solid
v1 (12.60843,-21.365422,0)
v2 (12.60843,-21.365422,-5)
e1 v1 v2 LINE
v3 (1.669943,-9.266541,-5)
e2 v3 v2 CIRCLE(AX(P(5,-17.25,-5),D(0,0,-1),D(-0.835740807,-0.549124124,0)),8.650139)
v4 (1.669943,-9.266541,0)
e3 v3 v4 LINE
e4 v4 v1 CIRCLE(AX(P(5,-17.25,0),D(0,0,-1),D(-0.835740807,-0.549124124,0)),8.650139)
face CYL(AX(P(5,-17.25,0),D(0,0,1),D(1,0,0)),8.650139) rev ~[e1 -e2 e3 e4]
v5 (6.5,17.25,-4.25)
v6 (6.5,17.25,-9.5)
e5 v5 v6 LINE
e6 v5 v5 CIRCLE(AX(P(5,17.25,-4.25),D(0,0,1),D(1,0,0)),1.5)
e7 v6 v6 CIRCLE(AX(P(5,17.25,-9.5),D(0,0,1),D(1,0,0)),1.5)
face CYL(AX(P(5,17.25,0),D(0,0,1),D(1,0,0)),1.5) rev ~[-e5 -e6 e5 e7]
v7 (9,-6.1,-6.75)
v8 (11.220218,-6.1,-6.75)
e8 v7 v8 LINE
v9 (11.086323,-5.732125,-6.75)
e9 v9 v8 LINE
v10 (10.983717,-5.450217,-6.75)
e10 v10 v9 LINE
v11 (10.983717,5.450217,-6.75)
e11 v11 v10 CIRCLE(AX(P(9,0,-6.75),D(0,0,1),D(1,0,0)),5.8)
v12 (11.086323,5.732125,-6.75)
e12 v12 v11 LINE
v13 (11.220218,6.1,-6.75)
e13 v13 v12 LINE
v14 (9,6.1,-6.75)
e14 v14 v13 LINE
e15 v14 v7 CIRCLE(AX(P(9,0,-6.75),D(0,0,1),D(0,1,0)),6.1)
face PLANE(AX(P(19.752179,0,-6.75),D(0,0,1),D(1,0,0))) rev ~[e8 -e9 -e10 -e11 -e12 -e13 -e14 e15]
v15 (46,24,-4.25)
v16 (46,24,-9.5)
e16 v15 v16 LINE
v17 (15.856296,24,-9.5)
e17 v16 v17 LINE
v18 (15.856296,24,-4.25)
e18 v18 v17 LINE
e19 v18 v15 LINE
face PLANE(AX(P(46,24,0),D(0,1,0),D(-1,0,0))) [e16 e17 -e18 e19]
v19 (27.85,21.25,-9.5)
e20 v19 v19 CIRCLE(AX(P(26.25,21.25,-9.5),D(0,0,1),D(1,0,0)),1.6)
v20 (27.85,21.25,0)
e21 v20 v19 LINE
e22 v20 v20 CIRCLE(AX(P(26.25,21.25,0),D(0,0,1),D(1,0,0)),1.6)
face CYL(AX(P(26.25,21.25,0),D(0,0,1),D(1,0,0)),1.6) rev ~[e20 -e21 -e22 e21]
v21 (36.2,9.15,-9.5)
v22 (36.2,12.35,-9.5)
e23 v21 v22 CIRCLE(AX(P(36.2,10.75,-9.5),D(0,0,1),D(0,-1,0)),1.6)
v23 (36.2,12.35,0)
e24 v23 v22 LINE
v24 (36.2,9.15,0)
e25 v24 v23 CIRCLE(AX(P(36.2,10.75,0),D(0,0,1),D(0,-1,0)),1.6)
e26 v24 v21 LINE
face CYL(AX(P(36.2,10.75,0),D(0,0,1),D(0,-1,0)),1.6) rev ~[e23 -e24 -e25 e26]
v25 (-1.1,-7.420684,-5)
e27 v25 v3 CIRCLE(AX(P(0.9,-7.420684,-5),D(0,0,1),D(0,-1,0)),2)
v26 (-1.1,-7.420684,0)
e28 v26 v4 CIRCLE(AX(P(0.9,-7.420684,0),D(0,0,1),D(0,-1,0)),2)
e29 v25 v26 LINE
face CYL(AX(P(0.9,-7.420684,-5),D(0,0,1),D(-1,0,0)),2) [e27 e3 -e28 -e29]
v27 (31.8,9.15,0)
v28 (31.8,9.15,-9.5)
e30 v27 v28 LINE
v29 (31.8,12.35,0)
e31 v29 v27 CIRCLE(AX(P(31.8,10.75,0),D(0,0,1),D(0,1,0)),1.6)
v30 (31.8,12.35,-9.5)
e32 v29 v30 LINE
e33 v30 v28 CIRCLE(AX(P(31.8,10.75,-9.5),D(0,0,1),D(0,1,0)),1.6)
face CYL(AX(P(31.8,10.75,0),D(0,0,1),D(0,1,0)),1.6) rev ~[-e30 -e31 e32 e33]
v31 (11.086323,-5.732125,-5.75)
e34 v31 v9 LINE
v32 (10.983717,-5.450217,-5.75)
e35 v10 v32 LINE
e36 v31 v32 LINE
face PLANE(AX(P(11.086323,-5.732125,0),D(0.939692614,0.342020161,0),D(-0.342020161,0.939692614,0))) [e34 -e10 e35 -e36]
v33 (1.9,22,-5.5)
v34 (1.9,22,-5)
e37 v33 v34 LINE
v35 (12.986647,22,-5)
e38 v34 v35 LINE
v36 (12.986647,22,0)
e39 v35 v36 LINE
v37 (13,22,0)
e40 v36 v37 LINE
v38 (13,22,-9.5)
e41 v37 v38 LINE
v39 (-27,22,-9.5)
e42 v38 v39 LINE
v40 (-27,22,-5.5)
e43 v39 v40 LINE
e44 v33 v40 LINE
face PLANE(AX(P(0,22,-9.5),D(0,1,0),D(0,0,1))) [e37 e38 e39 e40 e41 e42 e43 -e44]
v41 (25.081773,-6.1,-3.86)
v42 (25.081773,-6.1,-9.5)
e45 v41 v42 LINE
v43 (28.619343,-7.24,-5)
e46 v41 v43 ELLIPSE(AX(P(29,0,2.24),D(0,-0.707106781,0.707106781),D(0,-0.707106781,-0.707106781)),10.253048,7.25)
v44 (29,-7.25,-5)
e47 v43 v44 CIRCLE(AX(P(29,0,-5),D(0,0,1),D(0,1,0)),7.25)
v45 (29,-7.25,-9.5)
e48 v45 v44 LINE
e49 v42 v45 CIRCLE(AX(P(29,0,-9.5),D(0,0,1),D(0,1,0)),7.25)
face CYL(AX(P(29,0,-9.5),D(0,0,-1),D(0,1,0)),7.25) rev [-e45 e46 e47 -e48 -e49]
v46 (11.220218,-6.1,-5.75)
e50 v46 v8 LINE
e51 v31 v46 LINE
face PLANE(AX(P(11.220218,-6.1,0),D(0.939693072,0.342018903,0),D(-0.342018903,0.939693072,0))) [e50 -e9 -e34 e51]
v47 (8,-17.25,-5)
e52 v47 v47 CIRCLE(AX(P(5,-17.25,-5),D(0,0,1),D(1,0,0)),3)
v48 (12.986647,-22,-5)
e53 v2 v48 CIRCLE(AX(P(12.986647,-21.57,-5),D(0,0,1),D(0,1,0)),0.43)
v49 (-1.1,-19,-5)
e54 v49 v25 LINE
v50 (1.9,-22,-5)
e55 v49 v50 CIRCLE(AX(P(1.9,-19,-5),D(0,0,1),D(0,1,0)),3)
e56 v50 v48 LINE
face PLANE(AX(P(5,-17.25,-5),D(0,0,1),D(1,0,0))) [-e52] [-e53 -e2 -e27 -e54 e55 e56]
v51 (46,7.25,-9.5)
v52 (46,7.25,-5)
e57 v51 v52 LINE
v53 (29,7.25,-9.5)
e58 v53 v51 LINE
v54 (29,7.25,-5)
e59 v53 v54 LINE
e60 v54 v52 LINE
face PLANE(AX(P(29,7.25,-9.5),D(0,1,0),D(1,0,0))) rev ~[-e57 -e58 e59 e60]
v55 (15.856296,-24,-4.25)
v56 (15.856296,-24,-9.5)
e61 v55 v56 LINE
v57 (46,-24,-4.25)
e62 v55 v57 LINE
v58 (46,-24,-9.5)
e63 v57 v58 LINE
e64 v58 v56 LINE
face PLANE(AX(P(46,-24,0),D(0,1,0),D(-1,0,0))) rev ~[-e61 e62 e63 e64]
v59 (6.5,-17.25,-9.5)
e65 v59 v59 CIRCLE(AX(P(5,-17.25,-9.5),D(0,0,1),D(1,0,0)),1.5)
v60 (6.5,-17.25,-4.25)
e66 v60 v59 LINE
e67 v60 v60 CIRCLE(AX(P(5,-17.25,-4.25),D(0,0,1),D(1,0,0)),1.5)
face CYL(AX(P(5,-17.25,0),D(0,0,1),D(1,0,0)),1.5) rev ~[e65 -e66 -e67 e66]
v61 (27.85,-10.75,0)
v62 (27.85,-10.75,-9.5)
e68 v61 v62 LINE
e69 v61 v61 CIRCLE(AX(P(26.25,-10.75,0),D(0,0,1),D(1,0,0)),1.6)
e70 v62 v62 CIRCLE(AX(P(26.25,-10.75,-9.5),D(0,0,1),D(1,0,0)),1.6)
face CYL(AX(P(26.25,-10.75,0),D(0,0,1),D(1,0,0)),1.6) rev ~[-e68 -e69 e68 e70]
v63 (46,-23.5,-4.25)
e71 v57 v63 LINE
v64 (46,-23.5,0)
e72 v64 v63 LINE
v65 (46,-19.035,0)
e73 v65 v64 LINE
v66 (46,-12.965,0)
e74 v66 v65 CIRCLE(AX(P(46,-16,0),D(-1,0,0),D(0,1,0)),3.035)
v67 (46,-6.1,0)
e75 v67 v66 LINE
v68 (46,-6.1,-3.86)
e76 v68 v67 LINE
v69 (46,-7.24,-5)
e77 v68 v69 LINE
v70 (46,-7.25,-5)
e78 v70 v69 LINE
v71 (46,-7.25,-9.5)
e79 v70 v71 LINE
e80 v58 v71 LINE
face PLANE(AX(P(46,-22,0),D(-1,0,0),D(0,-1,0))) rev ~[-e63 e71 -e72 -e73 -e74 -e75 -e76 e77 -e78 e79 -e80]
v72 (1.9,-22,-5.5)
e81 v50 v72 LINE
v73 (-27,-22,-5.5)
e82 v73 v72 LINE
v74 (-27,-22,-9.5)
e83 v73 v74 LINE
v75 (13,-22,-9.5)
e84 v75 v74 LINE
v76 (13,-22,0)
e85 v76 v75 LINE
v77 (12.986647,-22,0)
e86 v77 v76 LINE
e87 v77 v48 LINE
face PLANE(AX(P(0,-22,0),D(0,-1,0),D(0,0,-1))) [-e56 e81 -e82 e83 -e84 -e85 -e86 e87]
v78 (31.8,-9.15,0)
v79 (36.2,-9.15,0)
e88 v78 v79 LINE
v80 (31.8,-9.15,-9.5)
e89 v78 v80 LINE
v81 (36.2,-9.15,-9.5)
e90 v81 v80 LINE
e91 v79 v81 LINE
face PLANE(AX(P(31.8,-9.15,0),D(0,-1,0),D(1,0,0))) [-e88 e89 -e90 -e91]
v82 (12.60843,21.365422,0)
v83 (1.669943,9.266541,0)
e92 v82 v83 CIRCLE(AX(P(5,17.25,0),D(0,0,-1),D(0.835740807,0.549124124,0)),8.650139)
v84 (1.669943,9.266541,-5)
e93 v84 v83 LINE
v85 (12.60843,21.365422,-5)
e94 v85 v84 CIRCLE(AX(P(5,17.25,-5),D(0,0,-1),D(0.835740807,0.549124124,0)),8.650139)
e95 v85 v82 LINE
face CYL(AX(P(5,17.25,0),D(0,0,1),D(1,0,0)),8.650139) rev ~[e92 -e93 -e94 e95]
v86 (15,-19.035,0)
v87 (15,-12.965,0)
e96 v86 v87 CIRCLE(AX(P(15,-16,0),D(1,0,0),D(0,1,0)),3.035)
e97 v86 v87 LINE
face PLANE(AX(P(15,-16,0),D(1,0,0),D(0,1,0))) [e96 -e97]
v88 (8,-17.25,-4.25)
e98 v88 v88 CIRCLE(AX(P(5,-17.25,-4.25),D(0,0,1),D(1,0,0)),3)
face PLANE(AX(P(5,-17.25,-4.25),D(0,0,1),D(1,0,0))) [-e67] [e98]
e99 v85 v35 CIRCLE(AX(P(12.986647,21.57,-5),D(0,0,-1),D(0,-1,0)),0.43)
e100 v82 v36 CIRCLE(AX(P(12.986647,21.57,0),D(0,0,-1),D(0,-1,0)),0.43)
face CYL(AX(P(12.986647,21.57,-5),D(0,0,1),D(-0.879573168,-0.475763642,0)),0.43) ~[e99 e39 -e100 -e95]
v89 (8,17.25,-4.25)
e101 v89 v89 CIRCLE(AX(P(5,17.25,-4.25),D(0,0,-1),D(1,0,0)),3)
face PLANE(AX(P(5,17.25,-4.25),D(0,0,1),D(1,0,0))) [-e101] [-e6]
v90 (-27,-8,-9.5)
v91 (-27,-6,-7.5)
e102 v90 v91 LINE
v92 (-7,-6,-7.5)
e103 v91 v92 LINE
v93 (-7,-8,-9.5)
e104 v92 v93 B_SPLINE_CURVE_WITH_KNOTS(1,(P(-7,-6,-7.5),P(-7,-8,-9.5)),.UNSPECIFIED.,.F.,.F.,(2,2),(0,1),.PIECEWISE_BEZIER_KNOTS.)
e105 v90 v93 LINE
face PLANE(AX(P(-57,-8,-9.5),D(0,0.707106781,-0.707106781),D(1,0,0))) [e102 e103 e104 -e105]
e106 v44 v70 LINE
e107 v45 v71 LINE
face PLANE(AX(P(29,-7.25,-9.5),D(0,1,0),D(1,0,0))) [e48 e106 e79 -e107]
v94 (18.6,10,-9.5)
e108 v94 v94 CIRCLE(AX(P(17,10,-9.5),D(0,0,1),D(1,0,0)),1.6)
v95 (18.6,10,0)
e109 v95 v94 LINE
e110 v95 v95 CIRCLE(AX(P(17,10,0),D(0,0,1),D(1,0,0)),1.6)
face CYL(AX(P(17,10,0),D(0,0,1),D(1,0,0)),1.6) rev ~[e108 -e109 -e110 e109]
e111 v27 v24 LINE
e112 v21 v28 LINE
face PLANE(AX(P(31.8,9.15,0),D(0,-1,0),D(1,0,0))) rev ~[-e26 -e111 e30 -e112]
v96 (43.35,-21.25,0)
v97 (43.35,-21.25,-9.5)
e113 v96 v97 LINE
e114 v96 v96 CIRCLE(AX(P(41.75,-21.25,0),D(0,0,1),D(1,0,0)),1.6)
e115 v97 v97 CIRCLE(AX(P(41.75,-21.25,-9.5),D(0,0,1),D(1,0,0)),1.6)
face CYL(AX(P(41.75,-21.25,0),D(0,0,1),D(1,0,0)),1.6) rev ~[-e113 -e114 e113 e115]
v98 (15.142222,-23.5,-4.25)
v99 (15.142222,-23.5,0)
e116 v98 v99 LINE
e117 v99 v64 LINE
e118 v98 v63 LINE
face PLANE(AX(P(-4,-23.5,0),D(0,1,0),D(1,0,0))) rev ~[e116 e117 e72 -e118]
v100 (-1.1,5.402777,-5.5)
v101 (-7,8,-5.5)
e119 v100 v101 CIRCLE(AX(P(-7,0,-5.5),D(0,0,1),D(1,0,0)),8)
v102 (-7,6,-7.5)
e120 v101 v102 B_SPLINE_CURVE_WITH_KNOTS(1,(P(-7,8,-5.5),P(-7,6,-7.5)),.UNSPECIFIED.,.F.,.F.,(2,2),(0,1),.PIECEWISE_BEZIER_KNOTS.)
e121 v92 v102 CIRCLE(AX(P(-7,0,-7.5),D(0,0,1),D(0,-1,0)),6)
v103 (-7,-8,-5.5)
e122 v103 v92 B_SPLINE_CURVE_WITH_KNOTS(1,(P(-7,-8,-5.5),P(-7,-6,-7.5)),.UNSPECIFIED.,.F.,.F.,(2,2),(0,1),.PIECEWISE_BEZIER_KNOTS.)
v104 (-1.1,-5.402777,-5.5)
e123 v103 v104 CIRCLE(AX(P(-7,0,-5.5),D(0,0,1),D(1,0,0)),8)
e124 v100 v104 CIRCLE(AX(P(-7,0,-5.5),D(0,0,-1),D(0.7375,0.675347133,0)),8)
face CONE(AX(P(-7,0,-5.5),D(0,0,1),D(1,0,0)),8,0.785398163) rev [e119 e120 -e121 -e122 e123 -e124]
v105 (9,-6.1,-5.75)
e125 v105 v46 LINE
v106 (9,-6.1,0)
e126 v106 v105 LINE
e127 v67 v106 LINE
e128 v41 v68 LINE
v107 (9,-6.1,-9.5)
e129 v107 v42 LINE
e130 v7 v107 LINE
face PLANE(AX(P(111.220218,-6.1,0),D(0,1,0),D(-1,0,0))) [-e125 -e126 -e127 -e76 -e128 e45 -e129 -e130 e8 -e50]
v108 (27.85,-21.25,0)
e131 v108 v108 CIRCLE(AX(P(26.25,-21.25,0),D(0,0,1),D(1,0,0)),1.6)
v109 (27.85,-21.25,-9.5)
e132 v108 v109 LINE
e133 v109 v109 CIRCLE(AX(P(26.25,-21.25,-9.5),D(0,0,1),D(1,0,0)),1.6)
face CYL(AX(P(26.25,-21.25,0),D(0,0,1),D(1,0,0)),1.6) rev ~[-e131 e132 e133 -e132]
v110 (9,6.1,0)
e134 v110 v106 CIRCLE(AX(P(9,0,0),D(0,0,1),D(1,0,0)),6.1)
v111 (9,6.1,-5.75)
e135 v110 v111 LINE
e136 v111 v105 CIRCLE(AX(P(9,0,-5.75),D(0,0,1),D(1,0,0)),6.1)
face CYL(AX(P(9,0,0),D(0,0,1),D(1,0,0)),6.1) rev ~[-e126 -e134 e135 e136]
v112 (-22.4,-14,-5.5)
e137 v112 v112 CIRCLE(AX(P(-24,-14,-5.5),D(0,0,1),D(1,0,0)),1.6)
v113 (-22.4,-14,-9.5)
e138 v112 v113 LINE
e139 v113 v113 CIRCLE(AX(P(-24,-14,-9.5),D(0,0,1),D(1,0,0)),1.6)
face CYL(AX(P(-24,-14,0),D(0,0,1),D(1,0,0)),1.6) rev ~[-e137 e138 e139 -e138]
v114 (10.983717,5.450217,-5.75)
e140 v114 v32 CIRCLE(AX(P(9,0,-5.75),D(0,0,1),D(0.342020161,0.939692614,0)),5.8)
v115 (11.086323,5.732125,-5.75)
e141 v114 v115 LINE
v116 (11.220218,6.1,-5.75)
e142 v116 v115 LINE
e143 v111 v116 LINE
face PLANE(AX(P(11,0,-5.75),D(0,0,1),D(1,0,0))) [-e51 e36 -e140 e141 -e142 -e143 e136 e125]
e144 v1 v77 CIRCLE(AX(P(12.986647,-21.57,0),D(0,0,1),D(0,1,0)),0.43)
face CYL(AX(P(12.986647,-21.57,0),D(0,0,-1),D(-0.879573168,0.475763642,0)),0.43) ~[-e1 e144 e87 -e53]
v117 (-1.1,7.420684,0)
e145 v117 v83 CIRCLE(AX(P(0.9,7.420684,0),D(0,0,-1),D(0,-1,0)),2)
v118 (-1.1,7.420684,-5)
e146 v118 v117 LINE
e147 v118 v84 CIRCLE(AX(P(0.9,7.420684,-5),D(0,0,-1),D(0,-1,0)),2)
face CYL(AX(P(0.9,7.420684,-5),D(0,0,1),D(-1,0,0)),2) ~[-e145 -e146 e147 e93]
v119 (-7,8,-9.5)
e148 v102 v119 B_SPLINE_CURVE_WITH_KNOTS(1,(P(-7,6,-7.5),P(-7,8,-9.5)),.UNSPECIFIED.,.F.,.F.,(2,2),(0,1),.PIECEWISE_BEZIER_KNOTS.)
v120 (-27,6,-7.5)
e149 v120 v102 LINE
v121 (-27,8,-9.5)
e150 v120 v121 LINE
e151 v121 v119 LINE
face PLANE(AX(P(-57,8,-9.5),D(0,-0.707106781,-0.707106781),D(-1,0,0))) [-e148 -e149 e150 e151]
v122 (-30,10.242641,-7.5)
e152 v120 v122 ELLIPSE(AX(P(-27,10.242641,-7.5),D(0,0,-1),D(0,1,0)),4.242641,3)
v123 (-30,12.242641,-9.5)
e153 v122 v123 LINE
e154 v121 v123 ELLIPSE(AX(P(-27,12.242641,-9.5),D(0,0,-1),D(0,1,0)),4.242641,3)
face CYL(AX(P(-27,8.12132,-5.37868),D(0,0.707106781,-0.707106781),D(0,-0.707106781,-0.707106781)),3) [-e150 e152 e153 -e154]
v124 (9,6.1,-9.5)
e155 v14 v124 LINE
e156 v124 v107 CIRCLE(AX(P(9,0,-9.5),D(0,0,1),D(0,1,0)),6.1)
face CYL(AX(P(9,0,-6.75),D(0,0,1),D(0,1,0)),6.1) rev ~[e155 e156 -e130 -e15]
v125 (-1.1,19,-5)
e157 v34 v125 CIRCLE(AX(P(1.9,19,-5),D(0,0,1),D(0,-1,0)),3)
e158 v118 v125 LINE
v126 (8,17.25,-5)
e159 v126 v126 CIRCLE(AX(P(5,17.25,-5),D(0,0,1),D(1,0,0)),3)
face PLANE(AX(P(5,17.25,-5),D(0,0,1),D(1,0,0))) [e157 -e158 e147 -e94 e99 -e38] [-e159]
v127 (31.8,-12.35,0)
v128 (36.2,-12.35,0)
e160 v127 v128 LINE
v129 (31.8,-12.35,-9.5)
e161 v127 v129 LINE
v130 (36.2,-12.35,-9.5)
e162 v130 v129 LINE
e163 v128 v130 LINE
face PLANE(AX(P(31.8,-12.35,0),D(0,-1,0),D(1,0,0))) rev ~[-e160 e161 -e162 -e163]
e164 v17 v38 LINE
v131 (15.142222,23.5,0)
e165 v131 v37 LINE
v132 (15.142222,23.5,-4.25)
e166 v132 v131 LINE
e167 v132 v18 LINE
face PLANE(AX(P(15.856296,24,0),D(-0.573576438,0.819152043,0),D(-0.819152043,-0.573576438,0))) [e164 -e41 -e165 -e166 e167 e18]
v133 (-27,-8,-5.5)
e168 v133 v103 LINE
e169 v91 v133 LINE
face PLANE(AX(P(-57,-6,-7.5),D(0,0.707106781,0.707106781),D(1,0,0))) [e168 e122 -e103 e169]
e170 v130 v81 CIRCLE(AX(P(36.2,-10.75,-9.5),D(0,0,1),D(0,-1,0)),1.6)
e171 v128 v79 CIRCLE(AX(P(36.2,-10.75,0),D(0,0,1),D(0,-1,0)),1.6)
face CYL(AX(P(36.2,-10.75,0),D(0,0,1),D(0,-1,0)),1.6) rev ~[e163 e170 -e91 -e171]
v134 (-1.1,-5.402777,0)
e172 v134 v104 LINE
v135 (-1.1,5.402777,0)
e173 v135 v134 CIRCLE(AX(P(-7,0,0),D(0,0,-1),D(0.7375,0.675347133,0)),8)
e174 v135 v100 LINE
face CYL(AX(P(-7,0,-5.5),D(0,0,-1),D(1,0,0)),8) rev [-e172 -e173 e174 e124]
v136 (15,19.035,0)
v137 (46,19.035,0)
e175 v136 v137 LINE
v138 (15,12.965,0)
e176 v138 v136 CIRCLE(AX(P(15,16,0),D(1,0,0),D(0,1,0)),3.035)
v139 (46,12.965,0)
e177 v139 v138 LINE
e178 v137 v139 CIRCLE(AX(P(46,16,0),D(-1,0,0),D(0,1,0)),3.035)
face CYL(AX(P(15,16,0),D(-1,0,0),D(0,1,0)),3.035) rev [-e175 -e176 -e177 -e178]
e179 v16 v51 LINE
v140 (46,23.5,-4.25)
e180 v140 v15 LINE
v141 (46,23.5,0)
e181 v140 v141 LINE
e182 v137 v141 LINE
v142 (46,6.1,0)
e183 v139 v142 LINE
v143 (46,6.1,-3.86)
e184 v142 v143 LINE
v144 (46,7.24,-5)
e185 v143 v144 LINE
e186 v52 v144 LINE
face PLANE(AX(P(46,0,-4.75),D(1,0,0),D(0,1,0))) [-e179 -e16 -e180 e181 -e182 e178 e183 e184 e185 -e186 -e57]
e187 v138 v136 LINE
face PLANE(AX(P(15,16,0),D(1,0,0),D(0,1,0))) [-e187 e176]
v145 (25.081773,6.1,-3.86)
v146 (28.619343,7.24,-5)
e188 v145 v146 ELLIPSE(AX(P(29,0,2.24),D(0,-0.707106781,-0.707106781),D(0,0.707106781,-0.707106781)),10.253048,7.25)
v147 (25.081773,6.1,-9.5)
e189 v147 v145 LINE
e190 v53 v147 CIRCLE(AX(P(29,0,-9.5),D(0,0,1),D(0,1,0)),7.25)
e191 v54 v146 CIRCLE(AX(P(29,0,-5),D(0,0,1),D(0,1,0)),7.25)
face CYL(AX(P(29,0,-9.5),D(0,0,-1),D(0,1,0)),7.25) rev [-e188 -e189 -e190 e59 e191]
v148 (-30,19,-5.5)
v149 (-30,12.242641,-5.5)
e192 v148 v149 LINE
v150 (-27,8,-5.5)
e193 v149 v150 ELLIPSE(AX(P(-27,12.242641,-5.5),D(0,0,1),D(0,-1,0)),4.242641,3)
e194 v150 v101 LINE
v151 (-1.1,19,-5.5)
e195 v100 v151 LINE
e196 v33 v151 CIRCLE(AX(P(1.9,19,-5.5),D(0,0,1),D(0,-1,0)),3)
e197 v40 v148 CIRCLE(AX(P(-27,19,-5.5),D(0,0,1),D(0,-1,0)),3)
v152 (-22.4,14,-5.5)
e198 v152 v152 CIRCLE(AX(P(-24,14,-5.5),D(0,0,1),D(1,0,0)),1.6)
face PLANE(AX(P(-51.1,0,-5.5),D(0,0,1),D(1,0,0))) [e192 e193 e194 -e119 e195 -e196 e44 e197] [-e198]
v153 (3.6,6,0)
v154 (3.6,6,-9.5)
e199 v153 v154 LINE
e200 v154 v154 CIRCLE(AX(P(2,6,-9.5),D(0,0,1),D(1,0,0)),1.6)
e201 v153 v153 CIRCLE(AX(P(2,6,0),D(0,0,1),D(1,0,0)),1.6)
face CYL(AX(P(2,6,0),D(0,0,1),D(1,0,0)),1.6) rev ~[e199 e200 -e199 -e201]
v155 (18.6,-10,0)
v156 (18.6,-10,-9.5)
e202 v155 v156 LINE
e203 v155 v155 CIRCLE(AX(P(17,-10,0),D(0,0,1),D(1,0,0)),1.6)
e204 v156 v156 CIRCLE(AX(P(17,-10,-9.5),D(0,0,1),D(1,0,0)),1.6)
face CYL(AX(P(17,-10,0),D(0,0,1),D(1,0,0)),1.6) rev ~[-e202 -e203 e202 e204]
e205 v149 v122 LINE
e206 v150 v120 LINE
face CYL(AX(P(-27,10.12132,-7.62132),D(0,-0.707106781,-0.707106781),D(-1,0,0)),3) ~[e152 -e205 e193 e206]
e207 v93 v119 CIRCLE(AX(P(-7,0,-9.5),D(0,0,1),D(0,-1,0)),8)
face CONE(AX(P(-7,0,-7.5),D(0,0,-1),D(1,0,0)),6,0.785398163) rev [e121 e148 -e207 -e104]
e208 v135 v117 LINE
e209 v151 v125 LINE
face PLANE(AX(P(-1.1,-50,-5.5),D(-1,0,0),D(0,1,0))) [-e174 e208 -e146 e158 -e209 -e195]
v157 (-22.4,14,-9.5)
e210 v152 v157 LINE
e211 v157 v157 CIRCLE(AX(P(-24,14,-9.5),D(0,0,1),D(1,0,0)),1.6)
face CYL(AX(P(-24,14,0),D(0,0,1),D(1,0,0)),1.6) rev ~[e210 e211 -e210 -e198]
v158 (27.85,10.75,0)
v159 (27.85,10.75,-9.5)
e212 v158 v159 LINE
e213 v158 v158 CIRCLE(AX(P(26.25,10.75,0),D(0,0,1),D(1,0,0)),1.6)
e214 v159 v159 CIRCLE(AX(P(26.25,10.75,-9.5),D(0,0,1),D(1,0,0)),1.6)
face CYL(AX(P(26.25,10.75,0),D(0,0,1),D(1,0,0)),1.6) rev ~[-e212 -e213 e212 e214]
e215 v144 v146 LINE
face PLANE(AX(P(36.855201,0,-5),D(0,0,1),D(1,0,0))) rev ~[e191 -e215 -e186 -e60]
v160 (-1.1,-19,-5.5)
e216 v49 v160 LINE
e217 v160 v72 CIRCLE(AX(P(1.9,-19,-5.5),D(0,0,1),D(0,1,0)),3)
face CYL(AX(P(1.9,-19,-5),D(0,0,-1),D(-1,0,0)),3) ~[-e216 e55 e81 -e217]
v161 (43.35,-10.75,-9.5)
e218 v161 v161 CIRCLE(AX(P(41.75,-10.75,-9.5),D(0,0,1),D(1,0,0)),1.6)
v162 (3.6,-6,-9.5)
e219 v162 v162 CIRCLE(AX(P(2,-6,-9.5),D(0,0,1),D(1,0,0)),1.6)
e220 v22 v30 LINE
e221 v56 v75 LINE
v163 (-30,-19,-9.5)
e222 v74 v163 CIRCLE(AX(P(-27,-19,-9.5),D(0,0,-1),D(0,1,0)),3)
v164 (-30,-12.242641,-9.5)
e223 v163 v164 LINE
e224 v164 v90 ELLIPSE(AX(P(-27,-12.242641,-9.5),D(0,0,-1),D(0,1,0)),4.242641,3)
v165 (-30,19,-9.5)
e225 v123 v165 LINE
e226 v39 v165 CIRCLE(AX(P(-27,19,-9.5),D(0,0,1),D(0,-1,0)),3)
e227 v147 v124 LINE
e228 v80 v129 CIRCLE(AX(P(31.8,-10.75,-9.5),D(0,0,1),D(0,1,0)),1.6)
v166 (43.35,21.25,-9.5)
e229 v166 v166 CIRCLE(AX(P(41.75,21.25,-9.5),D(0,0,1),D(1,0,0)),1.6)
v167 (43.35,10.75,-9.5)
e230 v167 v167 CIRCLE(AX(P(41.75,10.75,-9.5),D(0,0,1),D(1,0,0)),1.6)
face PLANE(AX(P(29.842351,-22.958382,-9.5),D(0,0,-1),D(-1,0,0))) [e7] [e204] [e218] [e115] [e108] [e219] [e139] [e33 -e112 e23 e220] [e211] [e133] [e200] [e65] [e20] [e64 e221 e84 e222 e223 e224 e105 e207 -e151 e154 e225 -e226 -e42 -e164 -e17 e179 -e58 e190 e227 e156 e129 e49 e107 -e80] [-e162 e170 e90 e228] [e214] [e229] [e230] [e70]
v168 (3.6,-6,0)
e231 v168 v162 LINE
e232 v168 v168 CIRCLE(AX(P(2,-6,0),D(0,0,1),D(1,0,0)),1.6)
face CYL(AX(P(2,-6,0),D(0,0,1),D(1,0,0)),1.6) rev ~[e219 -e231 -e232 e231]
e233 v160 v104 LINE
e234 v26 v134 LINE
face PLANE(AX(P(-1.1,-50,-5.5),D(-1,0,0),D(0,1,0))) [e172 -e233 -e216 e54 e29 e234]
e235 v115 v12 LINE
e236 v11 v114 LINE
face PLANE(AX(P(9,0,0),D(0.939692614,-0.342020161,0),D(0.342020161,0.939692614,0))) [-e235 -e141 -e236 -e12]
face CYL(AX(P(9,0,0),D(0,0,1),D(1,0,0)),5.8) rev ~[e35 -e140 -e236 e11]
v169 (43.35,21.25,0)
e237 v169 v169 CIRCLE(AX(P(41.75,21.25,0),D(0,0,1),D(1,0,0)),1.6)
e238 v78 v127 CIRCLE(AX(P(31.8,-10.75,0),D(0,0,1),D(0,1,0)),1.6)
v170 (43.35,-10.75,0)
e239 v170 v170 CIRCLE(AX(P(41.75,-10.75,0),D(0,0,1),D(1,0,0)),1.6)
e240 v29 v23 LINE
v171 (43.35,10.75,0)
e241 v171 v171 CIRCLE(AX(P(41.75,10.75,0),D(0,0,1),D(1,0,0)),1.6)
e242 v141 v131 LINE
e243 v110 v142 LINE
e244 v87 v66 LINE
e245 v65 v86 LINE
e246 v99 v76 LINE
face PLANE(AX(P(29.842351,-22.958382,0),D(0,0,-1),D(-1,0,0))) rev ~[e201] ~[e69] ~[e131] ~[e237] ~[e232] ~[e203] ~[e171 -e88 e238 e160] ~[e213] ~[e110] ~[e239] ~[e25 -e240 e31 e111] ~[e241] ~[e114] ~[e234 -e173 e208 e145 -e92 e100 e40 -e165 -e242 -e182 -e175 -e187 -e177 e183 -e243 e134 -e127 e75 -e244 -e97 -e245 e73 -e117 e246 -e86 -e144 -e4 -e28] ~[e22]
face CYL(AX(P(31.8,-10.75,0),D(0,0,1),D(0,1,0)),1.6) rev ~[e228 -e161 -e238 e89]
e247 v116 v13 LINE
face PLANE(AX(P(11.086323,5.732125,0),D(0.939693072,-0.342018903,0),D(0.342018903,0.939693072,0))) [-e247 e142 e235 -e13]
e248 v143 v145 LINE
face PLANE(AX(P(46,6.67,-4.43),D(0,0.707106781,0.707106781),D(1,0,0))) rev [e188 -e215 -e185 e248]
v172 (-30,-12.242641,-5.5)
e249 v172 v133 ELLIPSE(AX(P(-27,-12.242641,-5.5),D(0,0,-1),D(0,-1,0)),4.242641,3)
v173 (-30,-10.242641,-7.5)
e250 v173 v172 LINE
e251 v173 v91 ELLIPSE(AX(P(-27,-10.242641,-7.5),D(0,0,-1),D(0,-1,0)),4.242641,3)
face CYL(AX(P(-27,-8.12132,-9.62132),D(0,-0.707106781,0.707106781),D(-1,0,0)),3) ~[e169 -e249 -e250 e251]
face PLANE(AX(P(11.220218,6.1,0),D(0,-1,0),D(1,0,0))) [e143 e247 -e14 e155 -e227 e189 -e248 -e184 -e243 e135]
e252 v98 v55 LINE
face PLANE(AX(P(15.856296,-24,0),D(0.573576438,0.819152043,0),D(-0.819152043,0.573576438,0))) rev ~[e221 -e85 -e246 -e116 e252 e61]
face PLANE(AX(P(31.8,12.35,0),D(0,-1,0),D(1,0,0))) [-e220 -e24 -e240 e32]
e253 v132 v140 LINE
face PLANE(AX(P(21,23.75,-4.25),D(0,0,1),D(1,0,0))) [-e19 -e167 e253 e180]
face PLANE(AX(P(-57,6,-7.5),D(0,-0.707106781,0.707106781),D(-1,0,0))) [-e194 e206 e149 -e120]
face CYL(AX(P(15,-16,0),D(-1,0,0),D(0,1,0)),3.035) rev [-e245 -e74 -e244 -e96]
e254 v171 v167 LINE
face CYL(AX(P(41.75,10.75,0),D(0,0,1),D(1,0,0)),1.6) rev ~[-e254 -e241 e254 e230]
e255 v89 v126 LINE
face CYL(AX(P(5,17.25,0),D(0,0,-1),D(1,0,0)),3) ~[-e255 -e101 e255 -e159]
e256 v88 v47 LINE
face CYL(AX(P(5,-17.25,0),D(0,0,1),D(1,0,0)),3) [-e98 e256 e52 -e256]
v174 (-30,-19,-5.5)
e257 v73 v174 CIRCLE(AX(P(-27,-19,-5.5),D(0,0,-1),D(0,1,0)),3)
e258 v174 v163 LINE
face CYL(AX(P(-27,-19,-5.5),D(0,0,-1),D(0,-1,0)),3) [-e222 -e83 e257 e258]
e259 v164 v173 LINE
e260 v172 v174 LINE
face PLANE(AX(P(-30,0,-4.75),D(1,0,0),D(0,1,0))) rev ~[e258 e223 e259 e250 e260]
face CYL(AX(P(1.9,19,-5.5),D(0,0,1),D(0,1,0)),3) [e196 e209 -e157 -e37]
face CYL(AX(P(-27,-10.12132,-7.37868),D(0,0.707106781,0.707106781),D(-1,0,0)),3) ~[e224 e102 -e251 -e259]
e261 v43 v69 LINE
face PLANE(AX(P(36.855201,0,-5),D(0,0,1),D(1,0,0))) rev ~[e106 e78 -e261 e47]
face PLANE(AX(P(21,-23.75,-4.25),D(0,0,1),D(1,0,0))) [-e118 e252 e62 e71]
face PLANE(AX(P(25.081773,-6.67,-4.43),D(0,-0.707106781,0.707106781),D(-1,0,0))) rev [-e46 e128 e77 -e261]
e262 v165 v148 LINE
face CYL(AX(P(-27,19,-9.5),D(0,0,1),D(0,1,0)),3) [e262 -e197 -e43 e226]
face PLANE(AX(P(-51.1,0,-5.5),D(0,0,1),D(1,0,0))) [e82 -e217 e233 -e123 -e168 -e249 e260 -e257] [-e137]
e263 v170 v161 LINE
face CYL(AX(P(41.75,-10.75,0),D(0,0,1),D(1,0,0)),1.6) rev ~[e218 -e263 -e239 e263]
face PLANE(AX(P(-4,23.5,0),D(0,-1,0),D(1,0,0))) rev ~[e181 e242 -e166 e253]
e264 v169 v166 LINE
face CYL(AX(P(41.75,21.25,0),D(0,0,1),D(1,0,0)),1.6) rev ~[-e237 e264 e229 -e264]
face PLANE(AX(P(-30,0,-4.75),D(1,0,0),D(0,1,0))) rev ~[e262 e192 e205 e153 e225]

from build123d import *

# Parameters (mm, degrees)
PAD_DEPTH            = 46
PAD_DEPTH_BACK       = 30
SKETCH009_R          = 8.650139
POCKET006_DEPTH      = 4.25
SKETCH011_R          = 1.5
POCKET008_DEPTH      = 9.501
POCKET008_DEPTH_BACK = 0.001
SKETCH010_R          = 8.650139
SKETCH010_R_2        = 3
POCKET007_DEPTH      = 5
SKETCH005_R          = 5.8
POCKET002_DEPTH      = 9.501
POCKET002_DEPTH_BACK = 0.001
SKETCH006_R          = 6.1
POCKET003_DEPTH      = 5.75
POCKET004_DEPTH      = 9.501
POCKET004_DEPTH_BACK = 0.001
SKETCH008_W          = 4
SKETCH008_H          = 12.2
POCKET005_DEPTH      = 5.75
POCKET009_DEPTH      = 9.501
POCKET009_DEPTH_BACK = 0.001
POCKET_DEPTH         = 2.751
SKETCH014_R          = 3.035
POCKET010_DEPTH      = 31.001
PAD001_DEPTH         = 9.5
SKETCH017_R          = 1.6
POCKET011_DEPTH      = 9.501
SKETCH018_W          = 100
SKETCH018_H          = 100
POCKET012_DEPTH      = 5.501
SKETCH020_R          = 8
SKETCH019_R          = 6
SKETCH021_R          = 8
POCKET013_DEPTH      = 5.501
SKETCH023_W          = 100
SKETCH023_H          = 16
SKETCH022_W          = 100
SKETCH022_H          = 12
SKETCH024_W          = 100
SKETCH024_H          = 16
SKETCH025_R          = 1.6
POCKET014_DEPTH      = 9.501
FILLET_R             = 3
FILLET001_R          = 2
FILLET002_R          = 0.43
FILLET003_R          = 3
POCKET015_DEPTH      = 4.5
CHAMFER_SIZE         = 1.14
SKETCH027_W          = 50
SKETCH027_H          = 0.5
POCKET016_DEPTH      = 4.25


with BuildPart() as part:
    # Sketch → Pad (new body, two sides)
    with BuildSketch(Plane.YZ) as pad_sk:
        Polygon((0, -9.5), (22, -9.5), (22, 0), (-22, 0), (-22, -9.5), align=None)
    extrude(amount=PAD_DEPTH)
    extrude(pad_sk.sketch, amount=-PAD_DEPTH_BACK)

    # Sketch009 → Pocket006 (cut, symmetric)
    with BuildSketch(Plane.XY):
        with Locations((5, -17.25)):
            Circle(SKETCH009_R)
        with Locations((5, 17.25)):
            Circle(SKETCH009_R)
    extrude(amount=POCKET006_DEPTH, both=True, mode=Mode.SUBTRACT)

    # Sketch011 → Pocket008 (cut, two sides)
    with BuildSketch(Plane.XY) as pocket008_sk:
        with Locations((5, 17.25)):
            Circle(SKETCH011_R)
        with Locations((5, -17.25)):
            Circle(SKETCH011_R)
    extrude(amount=-POCKET008_DEPTH, mode=Mode.SUBTRACT)
    extrude(pocket008_sk.sketch, amount=POCKET008_DEPTH_BACK, mode=Mode.SUBTRACT)

    # Sketch010 → Pocket007 (cut, symmetric)
    with BuildSketch(Plane.XY):
        with Locations((5, -17.25)):
            Circle(SKETCH010_R)
        with Locations((5, -17.25)):
            Circle(SKETCH010_R_2, mode=Mode.SUBTRACT)
        with Locations((5, 17.25)):
            Circle(SKETCH010_R)
        with Locations((5, 17.25)):
            Circle(SKETCH010_R_2, mode=Mode.SUBTRACT)
    extrude(amount=POCKET007_DEPTH, both=True, mode=Mode.SUBTRACT)

    # Sketch005 → Pocket002 (cut, two sides)
    with BuildSketch(Plane.XY) as pocket002_sk:
        with Locations((9, 0)):
            Circle(SKETCH005_R)
    extrude(amount=-POCKET002_DEPTH, mode=Mode.SUBTRACT)
    extrude(pocket002_sk.sketch, amount=POCKET002_DEPTH_BACK, mode=Mode.SUBTRACT)

    # Sketch006 → Pocket003 (cut)
    with BuildSketch(Plane.XY):
        with Locations((9, 0)):
            Circle(SKETCH006_R)
    extrude(amount=-POCKET003_DEPTH, mode=Mode.SUBTRACT)

    # Sketch007 → Pocket004 (cut, two sides)
    with BuildSketch(Plane.XY) as pocket004_sk:
        Polygon((9, 0), (11.086323, 5.732125), (11.220218, 6.1), (111.220218, 6.1), (111.220218, -6.1), (11.220218, -6.1), (11.086323, -5.732125), align=None)
    extrude(amount=-POCKET004_DEPTH, mode=Mode.SUBTRACT)
    extrude(pocket004_sk.sketch, amount=POCKET004_DEPTH_BACK, mode=Mode.SUBTRACT)

    # Sketch008 → Pocket005 (cut)
    with BuildSketch(Plane.XY):
        with Locations((11, 0)):
            Rectangle(SKETCH008_W, SKETCH008_H)
    extrude(amount=-POCKET005_DEPTH, mode=Mode.SUBTRACT)

    # Sketch012 → Pocket009 (cut, two sides)
    with BuildSketch(Plane.XY) as pocket009_sk:
        with BuildLine():
            ThreePointArc((31.8, 12.35), (30.2, 10.75), (31.8, 9.15))
            Line((31.8, 9.15), (36.2, 9.15))
            ThreePointArc((36.2, 9.15), (37.8, 10.75), (36.2, 12.35))
            Line((31.8, 12.35), (36.2, 12.35))
        make_face()
        with BuildLine():
            ThreePointArc((31.8, -9.15), (30.2, -10.75), (31.8, -12.35))
            Line((31.8, -12.35), (36.2, -12.35))
            ThreePointArc((36.2, -12.35), (37.8, -10.75), (36.2, -9.15))
            Line((31.8, -9.15), (36.2, -9.15))
        make_face()
    extrude(amount=-POCKET009_DEPTH, mode=Mode.SUBTRACT)
    extrude(pocket009_sk.sketch, amount=POCKET009_DEPTH_BACK, mode=Mode.SUBTRACT)

    # Sketch013 (on DatumPlane) → Pocket (cut, through all)
    with BuildSketch(Plane.XY.offset(-6.75)):
        with BuildLine():
            ThreePointArc((9, 6.1), (2.9, 0), (9, -6.1))
            Line((9, -6.1), (34, -6.1))
            Line((34, 6.1), (34, -6.1))
            Line((9, 6.1), (34, 6.1))
        make_face()
    extrude(amount=-POCKET_DEPTH, mode=Mode.SUBTRACT)

    # Sketch014 (on DatumPlane) → Pocket010 (cut, through all)
    with BuildSketch(Plane.YZ.offset(15)):
        with Locations((-16, 0)):
            Circle(SKETCH014_R)
        with Locations((16, 0)):
            Circle(SKETCH014_R)
    extrude(amount=POCKET010_DEPTH, mode=Mode.SUBTRACT)

    # Sketch016 → Pad001 (join)
    with BuildSketch(Plane.XY):
        Polygon((13, -22), (46, -22), (46, -24), (15.856296, -24), align=None)
        Polygon((13, 22), (46, 22), (46, 24), (15.856296, 24), align=None)
    extrude(amount=-PAD001_DEPTH)

    # Sketch017 → Pocket011 (cut, through all)
    with BuildSketch(Plane.XY):
        with Locations((26.25, -10.75)):
            Circle(SKETCH017_R)
        with Locations((26.25, -21.25)):
            Circle(SKETCH017_R)
        with Locations((41.75, -21.25)):
            Circle(SKETCH017_R)
        with Locations((41.75, -10.75)):
            Circle(SKETCH017_R)
        with Locations((26.25, 10.75)):
            Circle(SKETCH017_R)
        with Locations((41.75, 10.75)):
            Circle(SKETCH017_R)
        with Locations((26.25, 21.25)):
            Circle(SKETCH017_R)
        with Locations((41.75, 21.25)):
            Circle(SKETCH017_R)
        with Locations((17, -10)):
            Circle(SKETCH017_R)
        with Locations((17, 10)):
            Circle(SKETCH017_R)
        with Locations((2, -6)):
            Circle(SKETCH017_R)
        with Locations((2, 6)):
            Circle(SKETCH017_R)
    extrude(amount=-POCKET011_DEPTH, mode=Mode.SUBTRACT)

    # Sketch018 (on DatumPlane) → Pocket012 (cut, through all)
    with BuildSketch(Plane.XY.offset(-5.5)):
        with Locations((-51.1, 0)):
            Rectangle(SKETCH018_W, SKETCH018_H)
    extrude(amount=POCKET012_DEPTH, mode=Mode.SUBTRACT)

    # Sketch020 (on DatumPlane) → SubtractiveLoft section 0
    with BuildSketch(Plane.XY.offset(-5.5)):
        with Locations((-7, 0)):
            Circle(SKETCH020_R)
    # Sketch019 (on DatumPlane) → SubtractiveLoft section 1
    with BuildSketch(Plane.XY.offset(-7.5)):
        with Locations((-7, 0)):
            Circle(SKETCH019_R)
    # Sketch021 (on DatumPlane) → SubtractiveLoft section 2
    with BuildSketch(Plane.XY.offset(-9.5)):
        with Locations((-7, 0)):
            Circle(SKETCH021_R)
    loft(ruled=True, mode=Mode.SUBTRACT)

    # Sketch020 (on DatumPlane) → Pocket013 (cut, through all)
    with BuildSketch(Plane.XY.offset(-5.5)):
        with Locations((-7, 0)):
            Circle(SKETCH020_R)
    extrude(amount=POCKET013_DEPTH, mode=Mode.SUBTRACT)

    # Sketch023 (on DatumPlane) → SubtractiveLoft001 section 0
    with BuildSketch(Plane.XY.offset(-5.5)):
        with Locations((-57, 0)):
            Rectangle(SKETCH023_W, SKETCH023_H)
    # Sketch022 (on DatumPlane) → SubtractiveLoft001 section 1
    with BuildSketch(Plane.XY.offset(-7.5)):
        with Locations((-57, 0)):
            Rectangle(SKETCH022_W, SKETCH022_H)
    # Sketch024 (on DatumPlane) → SubtractiveLoft001 section 2
    with BuildSketch(Plane.XY.offset(-9.5)):
        with Locations((-57, 0)):
            Rectangle(SKETCH024_W, SKETCH024_H)
    loft(ruled=True, mode=Mode.SUBTRACT)

    # Sketch025 → Pocket014 (cut, through all)
    with BuildSketch(Plane.XY):
        with Locations((-24, -14)):
            Circle(SKETCH025_R)
        with Locations((-24, 14)):
            Circle(SKETCH025_R)
    extrude(amount=-POCKET014_DEPTH, mode=Mode.SUBTRACT)

    # Fillet
    fillet_edges = [part.edges().sort_by_distance(p)[0] for p in [
        (-30, -22, -7.5),
        (-30, 22, -7.5),
        (-30, 7, -8.5),
        (-30, 7, -6.5),
        (-30, -7, -6.5),
        (-30, -7, -8.5),
    ]]
    fillet(fillet_edges, radius=FILLET_R)

    # Fillet001
    fillet001_edges = [part.edges().sort_by_distance(p)[0] for p in [
        (-1.1, -11.1169, -2.125),
        (-1.1, 11.1169, -2.125),
    ]]
    fillet(fillet001_edges, radius=FILLET001_R)

    # Fillet002
    fillet002_edges = [part.edges().sort_by_distance(p)[0] for p in [
        (12.229275, -22, -2.125),
        (12.229275, 22, -2.125),
    ]]
    fillet(fillet002_edges, radius=FILLET002_R)

    # Fillet003
    fillet003_edges = [part.edges().sort_by_distance(p)[0] for p in [
        (-1.1, -22, -5.25),
        (-1.1, 22, -5.25),
    ]]
    fillet(fillet003_edges, radius=FILLET003_R)

    # Sketch026 (on DatumPlane) → Pocket015 (cut)
    with BuildSketch(Plane.XY.offset(-9.5)):
        with BuildLine():
            ThreePointArc((29, 7.25), (21.75, 0), (29, -7.25))
            Line((29, -7.25), (49, -7.25))
            Line((49, 7.25), (49, -7.25))
            Line((29, 7.25), (49, 7.25))
        make_face()
    extrude(amount=POCKET015_DEPTH, mode=Mode.SUBTRACT)

    # Chamfer
    chamfer_edges = [part.edges().sort_by_distance(p)[0] for p in [
        (35.540887, 6.1, -5),
        (35.540887, -6.1, -5),
    ]]
    chamfer(chamfer_edges, length=CHAMFER_SIZE)

    # Sketch027 → Pocket016 (cut, symmetric)
    with BuildSketch(Plane.XY):
        with Locations((21, -23.75)):
            Rectangle(SKETCH027_W, SKETCH027_H)
        with Locations((21, 23.75)):
            Rectangle(SKETCH027_W, SKETCH027_H)
    extrude(amount=POCKET016_DEPTH, both=True, mode=Mode.SUBTRACT)


solid = part.part
